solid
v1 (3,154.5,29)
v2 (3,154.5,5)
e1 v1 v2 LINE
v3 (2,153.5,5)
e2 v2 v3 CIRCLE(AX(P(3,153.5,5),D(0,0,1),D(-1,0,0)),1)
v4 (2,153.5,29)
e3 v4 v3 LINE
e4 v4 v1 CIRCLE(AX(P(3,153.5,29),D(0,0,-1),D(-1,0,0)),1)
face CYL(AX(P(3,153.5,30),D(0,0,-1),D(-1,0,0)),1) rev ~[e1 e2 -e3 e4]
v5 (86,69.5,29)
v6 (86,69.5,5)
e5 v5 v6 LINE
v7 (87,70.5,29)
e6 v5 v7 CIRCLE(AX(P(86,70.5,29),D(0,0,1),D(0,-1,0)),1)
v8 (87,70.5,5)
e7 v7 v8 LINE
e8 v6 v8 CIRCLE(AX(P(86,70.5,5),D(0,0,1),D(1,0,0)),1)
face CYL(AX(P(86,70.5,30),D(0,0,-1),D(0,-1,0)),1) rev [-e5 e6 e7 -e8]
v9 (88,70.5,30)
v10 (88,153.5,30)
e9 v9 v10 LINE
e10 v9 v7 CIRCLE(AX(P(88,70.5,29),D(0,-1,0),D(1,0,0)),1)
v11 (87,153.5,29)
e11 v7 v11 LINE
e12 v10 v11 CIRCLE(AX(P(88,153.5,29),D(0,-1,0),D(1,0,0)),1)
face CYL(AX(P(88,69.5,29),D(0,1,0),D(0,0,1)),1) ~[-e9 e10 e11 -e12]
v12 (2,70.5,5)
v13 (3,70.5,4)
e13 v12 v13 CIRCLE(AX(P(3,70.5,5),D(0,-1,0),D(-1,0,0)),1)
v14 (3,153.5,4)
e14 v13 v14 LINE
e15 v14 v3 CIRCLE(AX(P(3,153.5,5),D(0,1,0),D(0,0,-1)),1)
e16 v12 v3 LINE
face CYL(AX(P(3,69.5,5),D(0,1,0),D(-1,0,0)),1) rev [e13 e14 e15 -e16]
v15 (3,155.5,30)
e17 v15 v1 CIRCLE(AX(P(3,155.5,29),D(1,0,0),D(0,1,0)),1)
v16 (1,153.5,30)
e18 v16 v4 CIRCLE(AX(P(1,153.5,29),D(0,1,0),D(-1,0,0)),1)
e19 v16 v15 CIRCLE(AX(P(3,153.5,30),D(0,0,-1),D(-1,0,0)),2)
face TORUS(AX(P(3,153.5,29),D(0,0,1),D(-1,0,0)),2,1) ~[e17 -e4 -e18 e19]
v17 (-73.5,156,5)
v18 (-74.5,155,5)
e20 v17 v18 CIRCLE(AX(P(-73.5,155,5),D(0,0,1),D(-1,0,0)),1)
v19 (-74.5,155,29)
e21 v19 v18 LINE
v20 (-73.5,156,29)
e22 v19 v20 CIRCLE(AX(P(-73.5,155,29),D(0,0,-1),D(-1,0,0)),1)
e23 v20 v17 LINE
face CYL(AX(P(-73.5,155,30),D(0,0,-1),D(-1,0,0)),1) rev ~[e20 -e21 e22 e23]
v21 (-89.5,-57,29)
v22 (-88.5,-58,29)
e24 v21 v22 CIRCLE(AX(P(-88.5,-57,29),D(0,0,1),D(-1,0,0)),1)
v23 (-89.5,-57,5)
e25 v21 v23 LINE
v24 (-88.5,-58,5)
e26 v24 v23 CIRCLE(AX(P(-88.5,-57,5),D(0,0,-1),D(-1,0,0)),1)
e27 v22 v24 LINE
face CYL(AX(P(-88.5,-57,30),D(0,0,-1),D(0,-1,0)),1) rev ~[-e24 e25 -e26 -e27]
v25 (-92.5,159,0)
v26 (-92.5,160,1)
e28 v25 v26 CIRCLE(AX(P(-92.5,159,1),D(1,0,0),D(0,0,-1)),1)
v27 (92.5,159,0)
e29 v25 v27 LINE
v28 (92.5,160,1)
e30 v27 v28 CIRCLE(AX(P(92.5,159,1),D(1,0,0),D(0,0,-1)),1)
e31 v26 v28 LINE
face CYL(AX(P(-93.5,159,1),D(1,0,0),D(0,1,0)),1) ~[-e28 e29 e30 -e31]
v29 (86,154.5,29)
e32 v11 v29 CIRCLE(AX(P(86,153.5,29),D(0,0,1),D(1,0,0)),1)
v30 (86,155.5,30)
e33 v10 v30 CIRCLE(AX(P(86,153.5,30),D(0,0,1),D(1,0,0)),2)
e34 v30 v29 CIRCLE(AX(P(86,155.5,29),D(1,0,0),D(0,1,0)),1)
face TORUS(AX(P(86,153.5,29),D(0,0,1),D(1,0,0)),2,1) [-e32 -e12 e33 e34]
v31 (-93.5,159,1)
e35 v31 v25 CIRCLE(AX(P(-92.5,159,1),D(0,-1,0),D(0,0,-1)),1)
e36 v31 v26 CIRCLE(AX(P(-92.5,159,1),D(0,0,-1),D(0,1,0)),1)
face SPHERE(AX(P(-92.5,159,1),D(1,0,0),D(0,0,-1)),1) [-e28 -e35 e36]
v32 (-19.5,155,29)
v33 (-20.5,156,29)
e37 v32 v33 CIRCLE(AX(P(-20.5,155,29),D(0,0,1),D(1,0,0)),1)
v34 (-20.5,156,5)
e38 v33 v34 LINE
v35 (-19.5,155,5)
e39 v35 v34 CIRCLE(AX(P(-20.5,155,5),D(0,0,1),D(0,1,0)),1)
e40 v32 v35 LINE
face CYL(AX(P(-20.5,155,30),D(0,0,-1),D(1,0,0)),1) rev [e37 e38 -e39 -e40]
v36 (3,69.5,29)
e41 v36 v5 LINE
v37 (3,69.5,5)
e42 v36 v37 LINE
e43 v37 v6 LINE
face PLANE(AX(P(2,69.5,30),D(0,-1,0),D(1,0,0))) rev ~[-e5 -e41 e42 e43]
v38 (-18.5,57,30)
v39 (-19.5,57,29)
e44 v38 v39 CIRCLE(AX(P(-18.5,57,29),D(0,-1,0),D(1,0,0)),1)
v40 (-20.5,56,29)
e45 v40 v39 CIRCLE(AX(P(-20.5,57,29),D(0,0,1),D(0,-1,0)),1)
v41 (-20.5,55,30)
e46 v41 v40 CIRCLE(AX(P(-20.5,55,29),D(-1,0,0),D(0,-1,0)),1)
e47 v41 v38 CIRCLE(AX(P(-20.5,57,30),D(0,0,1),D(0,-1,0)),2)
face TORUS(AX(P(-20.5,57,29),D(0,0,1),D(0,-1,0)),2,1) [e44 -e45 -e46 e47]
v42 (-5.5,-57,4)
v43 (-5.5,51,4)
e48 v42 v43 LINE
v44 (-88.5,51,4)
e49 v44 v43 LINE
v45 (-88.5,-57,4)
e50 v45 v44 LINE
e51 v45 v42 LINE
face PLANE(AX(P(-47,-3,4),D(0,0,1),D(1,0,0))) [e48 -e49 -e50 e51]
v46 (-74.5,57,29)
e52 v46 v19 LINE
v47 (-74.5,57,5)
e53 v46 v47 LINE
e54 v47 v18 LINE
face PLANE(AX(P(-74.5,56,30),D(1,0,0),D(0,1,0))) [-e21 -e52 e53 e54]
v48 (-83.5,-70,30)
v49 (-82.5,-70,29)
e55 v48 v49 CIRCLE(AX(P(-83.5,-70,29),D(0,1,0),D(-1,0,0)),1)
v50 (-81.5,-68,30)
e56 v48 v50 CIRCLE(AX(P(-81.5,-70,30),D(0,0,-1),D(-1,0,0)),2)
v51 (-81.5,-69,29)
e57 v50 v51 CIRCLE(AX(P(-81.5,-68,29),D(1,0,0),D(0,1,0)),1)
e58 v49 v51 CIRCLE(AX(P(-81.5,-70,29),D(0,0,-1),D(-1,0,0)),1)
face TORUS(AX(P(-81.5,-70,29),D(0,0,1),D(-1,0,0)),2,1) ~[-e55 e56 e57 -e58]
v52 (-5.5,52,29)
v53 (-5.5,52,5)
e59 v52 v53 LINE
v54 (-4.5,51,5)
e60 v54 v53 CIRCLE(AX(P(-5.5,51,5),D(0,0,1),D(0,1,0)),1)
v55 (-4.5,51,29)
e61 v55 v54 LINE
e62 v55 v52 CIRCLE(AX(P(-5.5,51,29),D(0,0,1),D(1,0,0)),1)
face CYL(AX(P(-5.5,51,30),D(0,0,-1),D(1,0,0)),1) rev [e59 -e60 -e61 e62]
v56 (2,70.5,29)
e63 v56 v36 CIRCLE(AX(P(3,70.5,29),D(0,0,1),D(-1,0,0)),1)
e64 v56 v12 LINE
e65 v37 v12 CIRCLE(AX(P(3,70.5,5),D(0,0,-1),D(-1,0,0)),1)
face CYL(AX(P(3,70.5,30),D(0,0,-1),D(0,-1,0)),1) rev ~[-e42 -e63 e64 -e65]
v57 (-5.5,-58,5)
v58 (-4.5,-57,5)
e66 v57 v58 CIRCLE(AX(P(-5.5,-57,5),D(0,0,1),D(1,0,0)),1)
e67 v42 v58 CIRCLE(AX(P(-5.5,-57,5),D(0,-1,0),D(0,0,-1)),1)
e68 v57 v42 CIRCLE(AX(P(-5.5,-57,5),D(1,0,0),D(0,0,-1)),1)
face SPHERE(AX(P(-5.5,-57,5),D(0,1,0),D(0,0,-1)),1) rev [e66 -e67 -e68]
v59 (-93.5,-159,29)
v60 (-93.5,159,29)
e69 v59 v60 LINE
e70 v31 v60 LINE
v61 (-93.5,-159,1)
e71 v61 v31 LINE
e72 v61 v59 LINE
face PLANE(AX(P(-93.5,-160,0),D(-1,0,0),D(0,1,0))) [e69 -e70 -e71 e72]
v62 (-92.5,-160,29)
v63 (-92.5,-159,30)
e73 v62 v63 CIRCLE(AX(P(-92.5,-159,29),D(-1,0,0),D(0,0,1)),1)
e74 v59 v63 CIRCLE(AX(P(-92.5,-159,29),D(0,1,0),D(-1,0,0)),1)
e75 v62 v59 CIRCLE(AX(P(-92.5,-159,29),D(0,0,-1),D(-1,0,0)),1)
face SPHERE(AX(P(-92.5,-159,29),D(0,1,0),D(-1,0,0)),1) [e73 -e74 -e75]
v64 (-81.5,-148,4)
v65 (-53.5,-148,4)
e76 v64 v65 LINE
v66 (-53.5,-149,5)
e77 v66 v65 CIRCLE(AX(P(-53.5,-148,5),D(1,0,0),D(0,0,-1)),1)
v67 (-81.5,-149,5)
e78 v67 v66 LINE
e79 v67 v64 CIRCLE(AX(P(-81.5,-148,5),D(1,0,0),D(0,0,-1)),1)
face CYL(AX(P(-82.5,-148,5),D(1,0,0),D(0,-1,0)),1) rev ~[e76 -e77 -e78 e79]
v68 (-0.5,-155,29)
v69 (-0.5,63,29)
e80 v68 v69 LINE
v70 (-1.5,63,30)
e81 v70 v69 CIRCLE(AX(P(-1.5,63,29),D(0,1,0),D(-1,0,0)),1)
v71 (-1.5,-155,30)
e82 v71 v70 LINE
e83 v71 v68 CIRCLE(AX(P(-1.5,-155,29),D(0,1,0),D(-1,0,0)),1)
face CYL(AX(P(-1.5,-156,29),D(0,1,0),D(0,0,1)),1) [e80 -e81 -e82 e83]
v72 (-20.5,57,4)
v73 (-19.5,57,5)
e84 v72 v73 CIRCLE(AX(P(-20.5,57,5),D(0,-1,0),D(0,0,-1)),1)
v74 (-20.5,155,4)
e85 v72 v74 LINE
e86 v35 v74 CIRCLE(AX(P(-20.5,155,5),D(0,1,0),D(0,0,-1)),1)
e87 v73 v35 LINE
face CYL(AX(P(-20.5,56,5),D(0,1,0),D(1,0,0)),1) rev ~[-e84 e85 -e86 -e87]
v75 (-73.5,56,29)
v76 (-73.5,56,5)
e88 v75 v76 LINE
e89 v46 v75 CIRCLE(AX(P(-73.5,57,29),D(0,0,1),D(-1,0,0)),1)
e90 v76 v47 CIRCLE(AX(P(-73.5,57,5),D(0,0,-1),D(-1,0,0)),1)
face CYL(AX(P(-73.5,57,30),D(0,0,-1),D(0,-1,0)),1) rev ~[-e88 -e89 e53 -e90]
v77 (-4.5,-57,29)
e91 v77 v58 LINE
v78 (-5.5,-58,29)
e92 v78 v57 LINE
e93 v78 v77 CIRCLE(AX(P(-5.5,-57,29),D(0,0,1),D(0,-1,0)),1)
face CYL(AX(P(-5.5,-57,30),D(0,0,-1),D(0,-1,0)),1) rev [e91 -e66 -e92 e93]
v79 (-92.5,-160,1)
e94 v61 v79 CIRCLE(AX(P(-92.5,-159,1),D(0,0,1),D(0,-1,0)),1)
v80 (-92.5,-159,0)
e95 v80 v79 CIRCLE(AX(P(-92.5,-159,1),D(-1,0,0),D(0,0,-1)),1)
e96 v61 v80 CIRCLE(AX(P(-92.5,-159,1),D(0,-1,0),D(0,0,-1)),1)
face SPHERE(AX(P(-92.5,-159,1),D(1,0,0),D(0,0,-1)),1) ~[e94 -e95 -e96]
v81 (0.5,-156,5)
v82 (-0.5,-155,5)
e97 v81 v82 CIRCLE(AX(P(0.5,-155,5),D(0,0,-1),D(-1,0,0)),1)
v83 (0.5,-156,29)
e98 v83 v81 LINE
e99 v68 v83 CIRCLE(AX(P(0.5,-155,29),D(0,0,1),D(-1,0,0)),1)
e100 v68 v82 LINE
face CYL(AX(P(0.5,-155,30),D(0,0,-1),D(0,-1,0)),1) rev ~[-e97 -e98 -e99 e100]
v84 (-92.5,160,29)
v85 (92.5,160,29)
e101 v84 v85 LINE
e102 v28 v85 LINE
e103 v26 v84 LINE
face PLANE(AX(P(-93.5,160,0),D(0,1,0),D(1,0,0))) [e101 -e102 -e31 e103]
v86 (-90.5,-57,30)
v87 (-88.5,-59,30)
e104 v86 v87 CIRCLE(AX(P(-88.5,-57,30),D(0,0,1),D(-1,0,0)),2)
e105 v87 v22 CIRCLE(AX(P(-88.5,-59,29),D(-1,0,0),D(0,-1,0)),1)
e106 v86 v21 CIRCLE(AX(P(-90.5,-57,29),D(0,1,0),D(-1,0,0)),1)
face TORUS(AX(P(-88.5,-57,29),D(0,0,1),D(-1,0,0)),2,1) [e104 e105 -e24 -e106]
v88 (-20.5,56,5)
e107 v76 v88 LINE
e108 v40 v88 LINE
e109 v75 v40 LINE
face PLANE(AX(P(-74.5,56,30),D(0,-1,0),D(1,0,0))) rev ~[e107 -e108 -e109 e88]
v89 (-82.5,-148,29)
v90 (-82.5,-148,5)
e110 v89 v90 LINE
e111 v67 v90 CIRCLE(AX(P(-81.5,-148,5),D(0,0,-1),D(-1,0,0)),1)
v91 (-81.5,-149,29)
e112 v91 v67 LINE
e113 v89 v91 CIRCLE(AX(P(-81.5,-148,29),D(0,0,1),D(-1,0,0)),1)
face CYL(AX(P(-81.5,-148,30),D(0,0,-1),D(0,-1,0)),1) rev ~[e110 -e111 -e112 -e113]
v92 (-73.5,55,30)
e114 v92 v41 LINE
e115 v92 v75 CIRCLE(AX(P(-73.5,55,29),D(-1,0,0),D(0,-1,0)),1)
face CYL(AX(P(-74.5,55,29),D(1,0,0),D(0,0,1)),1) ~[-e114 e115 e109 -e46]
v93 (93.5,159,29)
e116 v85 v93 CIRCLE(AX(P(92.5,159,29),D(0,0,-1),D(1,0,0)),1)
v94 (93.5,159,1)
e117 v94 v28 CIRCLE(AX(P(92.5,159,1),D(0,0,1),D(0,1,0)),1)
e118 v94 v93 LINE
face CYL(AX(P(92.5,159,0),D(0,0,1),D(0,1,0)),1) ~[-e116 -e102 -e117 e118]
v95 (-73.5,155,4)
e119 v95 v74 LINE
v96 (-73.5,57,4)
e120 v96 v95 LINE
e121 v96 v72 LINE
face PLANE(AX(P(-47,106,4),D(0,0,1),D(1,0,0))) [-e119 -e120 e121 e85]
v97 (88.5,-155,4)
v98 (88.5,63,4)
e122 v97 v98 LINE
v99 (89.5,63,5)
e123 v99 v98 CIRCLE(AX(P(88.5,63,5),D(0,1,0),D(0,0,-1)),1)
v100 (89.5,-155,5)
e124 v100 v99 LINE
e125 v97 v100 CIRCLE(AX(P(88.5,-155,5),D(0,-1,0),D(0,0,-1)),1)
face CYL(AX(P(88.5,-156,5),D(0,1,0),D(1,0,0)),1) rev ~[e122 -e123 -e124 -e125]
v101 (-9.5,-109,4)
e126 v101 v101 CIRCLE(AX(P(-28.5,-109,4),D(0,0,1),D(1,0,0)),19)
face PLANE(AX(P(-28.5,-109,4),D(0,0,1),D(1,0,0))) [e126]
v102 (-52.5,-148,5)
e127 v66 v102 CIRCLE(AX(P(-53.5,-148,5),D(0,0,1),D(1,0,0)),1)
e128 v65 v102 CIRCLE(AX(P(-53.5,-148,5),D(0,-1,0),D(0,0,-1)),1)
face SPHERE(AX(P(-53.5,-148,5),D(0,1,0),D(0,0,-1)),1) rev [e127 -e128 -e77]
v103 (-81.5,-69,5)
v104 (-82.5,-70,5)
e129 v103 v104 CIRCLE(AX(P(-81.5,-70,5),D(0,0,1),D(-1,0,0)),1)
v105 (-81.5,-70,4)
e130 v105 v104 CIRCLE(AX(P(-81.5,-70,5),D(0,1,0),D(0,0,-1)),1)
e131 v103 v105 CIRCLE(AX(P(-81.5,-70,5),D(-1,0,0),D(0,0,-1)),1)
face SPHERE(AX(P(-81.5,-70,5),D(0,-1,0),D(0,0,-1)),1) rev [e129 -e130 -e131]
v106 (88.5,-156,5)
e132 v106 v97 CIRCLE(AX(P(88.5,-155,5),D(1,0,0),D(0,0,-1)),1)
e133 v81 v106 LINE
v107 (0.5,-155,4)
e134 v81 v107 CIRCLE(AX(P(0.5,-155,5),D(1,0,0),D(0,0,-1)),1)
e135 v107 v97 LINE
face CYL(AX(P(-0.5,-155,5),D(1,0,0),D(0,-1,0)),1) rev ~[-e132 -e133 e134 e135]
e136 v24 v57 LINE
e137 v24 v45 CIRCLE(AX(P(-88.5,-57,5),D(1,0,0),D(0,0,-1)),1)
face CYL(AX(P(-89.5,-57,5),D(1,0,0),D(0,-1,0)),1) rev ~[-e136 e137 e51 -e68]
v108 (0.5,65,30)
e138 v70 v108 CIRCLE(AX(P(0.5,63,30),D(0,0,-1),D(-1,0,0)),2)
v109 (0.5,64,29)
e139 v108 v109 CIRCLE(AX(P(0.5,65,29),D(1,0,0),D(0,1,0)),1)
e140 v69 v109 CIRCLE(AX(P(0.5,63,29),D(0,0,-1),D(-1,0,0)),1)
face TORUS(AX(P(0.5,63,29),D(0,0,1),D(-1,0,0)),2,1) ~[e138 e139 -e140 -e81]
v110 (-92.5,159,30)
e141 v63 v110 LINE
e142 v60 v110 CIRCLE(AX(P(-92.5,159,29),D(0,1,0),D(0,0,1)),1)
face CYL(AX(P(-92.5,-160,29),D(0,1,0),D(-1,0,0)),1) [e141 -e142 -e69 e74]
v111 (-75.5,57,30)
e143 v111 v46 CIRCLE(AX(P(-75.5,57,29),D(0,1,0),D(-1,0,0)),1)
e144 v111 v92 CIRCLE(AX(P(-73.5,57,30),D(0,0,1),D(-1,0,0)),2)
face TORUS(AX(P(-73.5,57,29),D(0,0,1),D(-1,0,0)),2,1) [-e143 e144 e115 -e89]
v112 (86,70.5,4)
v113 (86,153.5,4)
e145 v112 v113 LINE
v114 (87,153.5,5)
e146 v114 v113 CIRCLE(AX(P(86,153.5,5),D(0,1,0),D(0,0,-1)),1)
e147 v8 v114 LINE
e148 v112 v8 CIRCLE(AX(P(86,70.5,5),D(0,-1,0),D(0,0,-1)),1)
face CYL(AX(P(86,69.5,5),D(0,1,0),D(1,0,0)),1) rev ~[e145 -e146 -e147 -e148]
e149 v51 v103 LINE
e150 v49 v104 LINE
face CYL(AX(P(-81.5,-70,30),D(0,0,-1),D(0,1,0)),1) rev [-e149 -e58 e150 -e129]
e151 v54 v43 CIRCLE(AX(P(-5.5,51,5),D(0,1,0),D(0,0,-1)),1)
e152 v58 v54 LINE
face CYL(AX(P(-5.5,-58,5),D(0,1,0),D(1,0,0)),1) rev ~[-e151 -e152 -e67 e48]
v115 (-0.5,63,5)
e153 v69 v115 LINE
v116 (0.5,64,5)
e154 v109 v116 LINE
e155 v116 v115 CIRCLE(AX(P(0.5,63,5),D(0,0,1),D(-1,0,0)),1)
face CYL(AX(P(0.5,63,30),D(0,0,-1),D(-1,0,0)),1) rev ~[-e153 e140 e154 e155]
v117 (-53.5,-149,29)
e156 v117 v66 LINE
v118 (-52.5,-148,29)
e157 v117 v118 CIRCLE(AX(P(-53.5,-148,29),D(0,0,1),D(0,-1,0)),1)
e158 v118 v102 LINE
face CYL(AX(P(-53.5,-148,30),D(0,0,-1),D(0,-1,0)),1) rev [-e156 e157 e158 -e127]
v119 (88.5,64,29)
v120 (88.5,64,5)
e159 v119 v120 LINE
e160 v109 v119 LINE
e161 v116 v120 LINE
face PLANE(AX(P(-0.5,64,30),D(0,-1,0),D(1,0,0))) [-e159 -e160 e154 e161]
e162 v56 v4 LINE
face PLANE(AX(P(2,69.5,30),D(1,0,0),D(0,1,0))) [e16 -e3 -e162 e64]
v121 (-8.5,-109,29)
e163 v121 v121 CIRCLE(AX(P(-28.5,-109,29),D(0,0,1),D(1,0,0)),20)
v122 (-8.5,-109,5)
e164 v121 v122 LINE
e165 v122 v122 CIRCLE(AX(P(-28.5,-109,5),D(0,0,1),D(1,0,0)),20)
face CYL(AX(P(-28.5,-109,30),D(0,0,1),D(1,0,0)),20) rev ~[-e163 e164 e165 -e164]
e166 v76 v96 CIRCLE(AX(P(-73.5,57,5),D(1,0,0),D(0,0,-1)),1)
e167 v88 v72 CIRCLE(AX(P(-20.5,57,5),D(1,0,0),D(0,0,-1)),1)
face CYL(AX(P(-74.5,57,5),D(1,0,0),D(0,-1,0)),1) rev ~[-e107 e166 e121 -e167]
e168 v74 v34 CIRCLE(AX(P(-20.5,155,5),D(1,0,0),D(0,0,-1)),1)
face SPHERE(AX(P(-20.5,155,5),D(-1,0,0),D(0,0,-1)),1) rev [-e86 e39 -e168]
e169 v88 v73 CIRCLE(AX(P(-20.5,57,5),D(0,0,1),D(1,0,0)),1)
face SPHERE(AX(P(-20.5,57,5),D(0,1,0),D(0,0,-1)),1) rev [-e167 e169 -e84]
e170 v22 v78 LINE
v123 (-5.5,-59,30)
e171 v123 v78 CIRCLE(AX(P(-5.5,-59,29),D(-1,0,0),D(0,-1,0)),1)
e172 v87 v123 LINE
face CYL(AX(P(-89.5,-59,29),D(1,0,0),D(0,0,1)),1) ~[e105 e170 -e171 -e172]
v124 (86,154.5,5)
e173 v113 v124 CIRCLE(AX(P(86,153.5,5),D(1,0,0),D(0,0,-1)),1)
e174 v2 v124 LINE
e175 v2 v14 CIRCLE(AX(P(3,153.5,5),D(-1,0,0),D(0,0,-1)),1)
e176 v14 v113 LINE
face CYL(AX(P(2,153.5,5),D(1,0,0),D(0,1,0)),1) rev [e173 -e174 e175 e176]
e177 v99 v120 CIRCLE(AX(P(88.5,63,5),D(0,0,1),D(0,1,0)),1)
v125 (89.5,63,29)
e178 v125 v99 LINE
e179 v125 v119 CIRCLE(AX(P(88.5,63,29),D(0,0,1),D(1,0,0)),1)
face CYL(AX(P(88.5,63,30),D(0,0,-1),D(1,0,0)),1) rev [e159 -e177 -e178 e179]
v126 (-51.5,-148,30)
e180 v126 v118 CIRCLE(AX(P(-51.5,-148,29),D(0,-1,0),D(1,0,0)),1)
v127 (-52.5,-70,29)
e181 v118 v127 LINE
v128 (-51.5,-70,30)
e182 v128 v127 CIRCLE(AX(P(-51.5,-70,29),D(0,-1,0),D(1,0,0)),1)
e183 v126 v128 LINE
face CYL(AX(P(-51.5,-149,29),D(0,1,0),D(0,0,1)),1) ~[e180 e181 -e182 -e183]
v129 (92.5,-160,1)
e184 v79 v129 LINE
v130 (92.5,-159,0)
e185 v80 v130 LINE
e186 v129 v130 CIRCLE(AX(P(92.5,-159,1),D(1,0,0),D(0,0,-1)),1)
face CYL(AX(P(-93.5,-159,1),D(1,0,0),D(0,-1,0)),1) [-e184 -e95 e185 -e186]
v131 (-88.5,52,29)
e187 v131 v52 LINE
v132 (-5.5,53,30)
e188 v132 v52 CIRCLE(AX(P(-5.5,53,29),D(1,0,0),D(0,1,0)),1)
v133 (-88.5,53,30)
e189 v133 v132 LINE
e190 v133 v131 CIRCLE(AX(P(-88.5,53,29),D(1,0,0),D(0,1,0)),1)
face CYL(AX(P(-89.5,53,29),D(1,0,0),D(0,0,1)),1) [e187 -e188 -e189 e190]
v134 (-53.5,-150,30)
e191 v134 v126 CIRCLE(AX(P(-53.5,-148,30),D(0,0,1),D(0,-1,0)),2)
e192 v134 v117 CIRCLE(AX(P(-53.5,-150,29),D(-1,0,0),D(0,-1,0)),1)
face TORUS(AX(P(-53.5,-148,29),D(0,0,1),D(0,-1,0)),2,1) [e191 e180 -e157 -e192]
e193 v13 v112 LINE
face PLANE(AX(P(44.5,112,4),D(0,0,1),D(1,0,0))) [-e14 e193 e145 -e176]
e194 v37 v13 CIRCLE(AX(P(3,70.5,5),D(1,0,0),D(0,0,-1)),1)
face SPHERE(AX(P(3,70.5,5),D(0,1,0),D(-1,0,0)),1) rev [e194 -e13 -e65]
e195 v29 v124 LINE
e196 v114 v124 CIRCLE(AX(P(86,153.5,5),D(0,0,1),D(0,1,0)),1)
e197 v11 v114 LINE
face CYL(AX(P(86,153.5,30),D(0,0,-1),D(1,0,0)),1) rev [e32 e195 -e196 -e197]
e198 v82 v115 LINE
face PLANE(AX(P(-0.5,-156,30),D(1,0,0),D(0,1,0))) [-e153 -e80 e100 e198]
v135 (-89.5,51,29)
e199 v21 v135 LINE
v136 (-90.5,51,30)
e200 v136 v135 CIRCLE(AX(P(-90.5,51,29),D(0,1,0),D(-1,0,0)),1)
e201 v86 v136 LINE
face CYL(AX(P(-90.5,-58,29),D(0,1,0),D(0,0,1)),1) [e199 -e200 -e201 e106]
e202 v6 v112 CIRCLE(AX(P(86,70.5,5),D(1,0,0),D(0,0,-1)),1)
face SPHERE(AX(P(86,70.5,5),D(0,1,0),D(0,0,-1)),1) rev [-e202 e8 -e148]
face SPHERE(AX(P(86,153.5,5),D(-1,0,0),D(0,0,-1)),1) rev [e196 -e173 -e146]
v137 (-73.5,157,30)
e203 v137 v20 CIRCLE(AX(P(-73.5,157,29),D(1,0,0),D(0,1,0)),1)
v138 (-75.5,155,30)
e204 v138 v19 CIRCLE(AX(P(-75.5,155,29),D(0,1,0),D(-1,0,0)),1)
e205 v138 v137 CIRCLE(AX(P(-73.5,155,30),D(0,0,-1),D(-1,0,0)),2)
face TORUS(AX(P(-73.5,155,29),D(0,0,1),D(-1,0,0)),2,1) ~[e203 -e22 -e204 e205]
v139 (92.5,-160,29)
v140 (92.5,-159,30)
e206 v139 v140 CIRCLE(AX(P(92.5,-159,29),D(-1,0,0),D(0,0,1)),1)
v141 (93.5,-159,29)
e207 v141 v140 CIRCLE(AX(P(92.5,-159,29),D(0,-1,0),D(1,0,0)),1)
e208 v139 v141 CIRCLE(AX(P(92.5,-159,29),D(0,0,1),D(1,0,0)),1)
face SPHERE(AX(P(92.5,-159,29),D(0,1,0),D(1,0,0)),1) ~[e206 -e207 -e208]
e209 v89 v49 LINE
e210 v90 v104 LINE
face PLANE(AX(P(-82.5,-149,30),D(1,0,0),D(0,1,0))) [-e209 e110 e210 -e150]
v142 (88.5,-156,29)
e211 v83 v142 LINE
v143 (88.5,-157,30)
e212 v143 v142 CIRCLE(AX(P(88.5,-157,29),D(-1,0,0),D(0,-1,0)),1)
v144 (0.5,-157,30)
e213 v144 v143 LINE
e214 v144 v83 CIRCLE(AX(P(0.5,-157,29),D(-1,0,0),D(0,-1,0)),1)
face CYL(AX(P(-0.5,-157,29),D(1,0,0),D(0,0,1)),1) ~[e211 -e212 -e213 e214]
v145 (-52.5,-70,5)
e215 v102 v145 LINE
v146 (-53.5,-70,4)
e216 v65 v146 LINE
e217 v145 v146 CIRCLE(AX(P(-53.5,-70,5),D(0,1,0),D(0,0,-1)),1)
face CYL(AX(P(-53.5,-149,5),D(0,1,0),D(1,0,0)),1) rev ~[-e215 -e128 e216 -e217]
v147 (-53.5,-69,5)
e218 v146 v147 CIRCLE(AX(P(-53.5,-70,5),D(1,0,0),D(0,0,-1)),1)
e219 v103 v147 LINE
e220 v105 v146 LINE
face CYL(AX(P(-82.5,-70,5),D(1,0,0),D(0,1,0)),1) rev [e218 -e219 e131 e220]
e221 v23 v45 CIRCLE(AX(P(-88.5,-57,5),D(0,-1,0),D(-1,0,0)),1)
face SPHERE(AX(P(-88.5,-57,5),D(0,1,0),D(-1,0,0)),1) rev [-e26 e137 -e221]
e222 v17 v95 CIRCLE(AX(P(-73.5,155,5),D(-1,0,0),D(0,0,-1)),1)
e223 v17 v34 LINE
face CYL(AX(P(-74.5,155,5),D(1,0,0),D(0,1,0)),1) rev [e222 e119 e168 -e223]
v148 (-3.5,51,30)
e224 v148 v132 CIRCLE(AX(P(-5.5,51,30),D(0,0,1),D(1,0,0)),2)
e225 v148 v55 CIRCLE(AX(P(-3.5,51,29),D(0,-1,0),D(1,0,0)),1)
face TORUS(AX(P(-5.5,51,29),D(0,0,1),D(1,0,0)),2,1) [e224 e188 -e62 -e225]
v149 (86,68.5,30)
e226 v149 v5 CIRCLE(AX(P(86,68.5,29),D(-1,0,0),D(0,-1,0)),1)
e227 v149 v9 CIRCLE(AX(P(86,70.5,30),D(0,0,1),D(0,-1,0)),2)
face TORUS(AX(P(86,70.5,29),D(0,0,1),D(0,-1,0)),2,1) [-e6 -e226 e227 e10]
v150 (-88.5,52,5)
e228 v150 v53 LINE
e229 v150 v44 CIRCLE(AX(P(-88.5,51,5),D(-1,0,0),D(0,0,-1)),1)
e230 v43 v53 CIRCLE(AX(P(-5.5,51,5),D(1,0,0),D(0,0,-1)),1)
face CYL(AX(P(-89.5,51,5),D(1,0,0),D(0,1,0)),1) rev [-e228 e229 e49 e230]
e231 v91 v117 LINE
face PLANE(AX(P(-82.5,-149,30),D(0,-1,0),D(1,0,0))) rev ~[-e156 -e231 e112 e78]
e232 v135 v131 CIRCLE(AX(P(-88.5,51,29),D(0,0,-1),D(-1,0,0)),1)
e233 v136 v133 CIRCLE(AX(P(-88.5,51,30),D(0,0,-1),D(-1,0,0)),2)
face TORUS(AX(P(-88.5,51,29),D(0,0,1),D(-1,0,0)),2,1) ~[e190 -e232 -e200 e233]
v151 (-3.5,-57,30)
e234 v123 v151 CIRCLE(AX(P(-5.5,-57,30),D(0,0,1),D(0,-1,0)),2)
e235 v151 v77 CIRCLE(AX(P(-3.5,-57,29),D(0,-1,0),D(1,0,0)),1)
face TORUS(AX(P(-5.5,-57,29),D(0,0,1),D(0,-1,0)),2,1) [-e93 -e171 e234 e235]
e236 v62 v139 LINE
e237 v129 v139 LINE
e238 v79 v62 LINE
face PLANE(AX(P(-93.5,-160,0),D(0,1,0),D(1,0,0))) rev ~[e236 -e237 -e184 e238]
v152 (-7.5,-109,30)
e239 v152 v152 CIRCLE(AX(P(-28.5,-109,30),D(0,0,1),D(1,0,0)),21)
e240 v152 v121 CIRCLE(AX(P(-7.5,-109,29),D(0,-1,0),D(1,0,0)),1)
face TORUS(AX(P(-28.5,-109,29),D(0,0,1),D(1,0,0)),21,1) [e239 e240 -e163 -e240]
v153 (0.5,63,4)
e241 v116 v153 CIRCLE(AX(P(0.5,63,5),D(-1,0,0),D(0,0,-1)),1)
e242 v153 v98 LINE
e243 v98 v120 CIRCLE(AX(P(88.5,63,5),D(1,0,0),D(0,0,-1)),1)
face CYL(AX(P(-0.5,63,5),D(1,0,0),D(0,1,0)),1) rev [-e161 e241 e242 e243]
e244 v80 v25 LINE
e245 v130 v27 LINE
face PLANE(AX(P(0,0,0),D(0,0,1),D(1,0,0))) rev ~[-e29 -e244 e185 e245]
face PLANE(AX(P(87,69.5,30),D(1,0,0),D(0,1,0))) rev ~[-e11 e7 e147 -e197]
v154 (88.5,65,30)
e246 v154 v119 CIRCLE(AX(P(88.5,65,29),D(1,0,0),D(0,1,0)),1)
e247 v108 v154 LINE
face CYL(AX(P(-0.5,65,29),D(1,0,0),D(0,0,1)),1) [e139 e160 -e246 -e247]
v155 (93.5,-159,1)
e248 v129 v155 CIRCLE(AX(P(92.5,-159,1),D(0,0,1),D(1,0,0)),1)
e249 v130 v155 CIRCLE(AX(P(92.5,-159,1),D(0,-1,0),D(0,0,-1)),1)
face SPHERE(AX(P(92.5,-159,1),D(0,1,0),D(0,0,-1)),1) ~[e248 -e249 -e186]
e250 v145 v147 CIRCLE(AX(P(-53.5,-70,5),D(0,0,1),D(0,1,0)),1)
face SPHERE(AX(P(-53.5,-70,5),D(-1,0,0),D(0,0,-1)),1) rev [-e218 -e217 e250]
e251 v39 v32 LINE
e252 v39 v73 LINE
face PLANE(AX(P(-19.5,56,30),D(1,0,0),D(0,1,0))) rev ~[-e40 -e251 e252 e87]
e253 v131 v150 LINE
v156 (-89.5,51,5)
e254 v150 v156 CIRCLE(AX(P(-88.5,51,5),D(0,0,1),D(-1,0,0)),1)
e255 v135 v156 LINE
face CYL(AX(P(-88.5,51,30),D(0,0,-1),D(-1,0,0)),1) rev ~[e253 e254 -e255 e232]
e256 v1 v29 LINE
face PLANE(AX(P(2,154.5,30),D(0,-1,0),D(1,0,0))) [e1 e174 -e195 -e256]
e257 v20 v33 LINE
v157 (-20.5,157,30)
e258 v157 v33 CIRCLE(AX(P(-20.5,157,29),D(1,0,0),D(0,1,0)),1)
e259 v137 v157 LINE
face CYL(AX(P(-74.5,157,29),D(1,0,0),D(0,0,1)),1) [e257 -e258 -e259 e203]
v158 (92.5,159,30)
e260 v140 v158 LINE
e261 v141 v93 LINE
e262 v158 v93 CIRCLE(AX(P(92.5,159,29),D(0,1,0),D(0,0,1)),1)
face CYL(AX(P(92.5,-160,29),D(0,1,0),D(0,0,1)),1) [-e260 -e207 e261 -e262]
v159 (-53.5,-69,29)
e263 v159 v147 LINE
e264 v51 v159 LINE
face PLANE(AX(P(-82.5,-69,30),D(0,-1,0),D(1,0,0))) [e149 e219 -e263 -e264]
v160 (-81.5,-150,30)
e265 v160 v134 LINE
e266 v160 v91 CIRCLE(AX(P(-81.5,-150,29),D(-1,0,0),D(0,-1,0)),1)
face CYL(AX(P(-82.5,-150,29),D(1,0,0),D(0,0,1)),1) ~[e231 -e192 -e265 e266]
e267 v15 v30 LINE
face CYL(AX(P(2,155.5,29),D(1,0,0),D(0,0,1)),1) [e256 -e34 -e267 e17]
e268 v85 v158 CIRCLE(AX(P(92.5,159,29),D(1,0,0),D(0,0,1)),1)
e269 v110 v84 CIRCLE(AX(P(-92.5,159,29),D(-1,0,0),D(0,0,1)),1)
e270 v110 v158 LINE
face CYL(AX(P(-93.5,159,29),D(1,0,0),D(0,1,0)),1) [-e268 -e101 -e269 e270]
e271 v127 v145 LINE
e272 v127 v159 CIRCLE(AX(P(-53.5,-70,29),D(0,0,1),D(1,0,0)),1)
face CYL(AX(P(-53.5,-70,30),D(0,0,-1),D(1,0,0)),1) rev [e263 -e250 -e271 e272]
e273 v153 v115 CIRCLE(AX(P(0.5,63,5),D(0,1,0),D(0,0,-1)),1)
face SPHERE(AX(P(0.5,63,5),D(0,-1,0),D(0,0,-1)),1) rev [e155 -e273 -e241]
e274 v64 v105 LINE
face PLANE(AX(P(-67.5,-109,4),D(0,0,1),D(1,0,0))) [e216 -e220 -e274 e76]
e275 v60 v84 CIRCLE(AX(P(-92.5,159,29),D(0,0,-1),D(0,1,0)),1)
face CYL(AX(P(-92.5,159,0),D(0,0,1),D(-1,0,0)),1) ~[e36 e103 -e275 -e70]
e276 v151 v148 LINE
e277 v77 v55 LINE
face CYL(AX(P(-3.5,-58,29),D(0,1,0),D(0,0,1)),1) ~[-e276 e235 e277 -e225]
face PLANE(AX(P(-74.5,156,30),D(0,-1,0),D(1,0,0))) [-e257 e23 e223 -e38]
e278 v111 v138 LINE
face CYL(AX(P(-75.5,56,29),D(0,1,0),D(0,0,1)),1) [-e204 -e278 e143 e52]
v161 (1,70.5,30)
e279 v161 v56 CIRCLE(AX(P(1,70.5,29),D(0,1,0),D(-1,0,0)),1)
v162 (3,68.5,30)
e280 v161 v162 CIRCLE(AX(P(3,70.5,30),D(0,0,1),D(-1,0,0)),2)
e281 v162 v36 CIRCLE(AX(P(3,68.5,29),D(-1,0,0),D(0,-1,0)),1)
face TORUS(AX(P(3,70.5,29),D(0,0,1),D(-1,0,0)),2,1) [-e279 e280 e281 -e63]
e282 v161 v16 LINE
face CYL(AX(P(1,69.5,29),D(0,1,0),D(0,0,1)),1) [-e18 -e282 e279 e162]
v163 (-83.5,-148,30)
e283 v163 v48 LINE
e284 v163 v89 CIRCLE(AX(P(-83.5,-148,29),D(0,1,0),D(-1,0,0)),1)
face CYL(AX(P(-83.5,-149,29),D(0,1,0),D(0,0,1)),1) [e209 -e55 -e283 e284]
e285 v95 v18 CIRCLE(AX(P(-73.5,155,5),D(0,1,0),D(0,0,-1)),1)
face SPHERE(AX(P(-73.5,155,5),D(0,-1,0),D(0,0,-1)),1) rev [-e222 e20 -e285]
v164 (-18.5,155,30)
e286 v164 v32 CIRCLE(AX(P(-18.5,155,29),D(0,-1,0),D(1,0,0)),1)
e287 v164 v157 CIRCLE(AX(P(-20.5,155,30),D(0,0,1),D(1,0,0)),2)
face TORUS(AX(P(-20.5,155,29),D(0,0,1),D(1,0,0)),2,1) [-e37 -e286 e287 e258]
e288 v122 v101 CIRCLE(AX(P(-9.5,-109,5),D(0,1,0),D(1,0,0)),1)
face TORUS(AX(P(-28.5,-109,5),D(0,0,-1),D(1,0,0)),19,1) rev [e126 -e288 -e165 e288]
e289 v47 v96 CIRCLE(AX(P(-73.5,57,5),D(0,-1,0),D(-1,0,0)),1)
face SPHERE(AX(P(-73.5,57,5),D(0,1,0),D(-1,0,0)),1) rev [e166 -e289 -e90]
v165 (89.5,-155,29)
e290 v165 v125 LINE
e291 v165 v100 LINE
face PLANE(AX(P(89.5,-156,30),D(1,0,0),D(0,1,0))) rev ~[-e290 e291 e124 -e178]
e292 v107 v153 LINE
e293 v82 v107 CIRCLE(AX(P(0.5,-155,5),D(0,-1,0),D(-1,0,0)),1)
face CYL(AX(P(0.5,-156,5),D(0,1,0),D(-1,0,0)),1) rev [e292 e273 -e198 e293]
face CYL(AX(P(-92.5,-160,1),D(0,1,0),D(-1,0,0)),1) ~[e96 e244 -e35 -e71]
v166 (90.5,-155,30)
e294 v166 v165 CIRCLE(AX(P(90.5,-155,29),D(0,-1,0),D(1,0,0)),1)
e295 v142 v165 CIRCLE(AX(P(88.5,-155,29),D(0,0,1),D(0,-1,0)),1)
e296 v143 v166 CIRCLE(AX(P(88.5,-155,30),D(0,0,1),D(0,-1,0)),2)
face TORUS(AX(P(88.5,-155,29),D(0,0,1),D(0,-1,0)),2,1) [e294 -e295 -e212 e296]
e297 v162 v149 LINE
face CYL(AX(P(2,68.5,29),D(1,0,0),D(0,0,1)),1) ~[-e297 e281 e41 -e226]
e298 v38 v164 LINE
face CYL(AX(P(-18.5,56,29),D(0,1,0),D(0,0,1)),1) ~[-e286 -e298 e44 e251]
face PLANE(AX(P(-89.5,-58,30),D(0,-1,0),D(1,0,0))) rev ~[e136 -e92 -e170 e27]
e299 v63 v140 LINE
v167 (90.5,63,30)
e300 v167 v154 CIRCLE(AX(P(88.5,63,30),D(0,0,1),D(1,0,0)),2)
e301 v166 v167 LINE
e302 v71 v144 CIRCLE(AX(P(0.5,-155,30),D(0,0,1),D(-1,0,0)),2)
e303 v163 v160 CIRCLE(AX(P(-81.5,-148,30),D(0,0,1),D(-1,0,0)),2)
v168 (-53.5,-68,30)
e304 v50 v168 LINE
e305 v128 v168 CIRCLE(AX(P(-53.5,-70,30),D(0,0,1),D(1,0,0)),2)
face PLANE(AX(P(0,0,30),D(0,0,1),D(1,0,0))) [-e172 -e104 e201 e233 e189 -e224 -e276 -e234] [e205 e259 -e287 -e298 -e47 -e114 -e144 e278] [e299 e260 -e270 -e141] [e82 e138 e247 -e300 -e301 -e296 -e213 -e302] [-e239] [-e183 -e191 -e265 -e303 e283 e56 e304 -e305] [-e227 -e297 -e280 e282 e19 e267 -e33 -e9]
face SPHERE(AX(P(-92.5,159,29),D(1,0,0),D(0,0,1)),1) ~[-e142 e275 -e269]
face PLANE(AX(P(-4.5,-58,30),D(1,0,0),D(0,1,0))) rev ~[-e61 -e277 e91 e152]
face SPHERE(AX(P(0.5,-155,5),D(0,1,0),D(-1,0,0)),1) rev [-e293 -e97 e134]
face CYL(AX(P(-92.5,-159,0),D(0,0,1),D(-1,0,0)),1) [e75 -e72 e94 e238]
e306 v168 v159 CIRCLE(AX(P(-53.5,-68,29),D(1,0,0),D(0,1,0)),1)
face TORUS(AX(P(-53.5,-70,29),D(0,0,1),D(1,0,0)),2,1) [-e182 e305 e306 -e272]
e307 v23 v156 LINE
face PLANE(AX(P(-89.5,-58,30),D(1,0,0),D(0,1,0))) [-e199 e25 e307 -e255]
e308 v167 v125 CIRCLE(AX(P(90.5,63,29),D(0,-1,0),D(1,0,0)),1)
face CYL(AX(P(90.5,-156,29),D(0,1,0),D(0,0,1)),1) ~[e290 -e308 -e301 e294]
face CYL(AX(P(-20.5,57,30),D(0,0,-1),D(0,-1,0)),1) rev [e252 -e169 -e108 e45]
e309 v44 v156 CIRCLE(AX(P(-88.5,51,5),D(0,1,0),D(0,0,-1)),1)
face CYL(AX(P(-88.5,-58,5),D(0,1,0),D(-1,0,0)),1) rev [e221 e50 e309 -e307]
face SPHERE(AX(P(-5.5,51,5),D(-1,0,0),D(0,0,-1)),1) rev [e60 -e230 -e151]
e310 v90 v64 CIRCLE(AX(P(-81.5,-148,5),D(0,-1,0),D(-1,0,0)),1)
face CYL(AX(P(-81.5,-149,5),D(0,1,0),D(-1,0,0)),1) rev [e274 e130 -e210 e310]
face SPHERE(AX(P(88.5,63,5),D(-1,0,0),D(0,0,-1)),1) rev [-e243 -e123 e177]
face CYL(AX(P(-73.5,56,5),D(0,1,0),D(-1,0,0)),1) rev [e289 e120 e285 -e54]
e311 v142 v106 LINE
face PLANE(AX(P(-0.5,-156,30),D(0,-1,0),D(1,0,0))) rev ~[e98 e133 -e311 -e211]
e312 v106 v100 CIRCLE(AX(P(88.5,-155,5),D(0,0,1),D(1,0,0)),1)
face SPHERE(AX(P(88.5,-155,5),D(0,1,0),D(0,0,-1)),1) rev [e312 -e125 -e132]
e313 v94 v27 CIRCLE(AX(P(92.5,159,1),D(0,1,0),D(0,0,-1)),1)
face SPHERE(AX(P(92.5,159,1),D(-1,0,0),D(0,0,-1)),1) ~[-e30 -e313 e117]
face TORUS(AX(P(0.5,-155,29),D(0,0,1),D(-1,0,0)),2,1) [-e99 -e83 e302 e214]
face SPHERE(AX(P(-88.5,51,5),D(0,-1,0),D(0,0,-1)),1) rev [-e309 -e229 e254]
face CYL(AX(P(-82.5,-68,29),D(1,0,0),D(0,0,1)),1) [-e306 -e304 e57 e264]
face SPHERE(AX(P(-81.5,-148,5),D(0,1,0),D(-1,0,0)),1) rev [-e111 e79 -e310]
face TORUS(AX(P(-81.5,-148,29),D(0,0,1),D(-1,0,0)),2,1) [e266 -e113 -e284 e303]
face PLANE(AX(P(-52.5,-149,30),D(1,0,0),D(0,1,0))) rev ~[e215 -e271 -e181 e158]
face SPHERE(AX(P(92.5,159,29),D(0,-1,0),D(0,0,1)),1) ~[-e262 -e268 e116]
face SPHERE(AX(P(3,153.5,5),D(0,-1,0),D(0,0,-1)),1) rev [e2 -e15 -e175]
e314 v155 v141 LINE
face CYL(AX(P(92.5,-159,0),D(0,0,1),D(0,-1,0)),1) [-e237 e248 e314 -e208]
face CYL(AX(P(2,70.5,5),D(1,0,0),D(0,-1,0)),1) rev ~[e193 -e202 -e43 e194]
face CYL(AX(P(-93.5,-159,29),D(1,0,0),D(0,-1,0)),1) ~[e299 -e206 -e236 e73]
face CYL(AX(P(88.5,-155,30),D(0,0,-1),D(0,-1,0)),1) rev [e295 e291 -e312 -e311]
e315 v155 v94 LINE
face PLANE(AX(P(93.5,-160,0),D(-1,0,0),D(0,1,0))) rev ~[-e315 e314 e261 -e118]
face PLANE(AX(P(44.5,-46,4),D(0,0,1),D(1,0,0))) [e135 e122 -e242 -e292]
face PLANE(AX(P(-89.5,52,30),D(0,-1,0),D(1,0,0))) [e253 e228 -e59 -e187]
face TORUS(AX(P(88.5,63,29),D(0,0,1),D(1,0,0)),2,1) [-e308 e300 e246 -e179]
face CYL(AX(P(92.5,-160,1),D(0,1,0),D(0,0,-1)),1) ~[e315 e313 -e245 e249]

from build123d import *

# Parameters (mm, degrees)
SKETCH1_W           = 187
SKETCH1_H           = 320
BOSS_EXTRUDE1_DEPTH = 30
SKETCH3_W           = 90
SKETCH3_H           = 220
CUT_EXTRUDE1_DEPTH  = 26
SKETCH4_W           = 85
SKETCH4_H           = 85
CUT_EXTRUDE2_DEPTH  = 26
SKETCH5_W           = 55
SKETCH5_H           = 100
CUT_EXTRUDE3_DEPTH  = 26
SKETCH6_W           = 85
SKETCH6_H           = 110
CUT_EXTRUDE4_DEPTH  = 26
SKETCH7_R           = 20
SKETCH7_W           = 30
SKETCH7_H           = 80
CUT_EXTRUDE6_DEPTH  = 26
FILLET1_R           = 1


with BuildPart() as part:
    # Sketch1 → Boss-Extrude1 (new body)
    with BuildSketch(Plane.XY):
        Rectangle(SKETCH1_W, SKETCH1_H)
    extrude(amount=BOSS_EXTRUDE1_DEPTH)

    # Sketch3 → Cut-Extrude1 (cut)
    with BuildSketch(Plane.XY.offset(30)):
        with Locations((44.5, -46)):
            Rectangle(SKETCH3_W, SKETCH3_H)
    extrude(amount=-CUT_EXTRUDE1_DEPTH, mode=Mode.SUBTRACT)

    # Sketch4 → Cut-Extrude2 (cut)
    with BuildSketch(Plane.XY.offset(30)):
        with Locations((44.5, 112)):
            Rectangle(SKETCH4_W, SKETCH4_H)
    extrude(amount=-CUT_EXTRUDE2_DEPTH, mode=Mode.SUBTRACT)

    # Sketch5 → Cut-Extrude3 (cut)
    with BuildSketch(Plane.XY.offset(30)):
        with Locations((-47, 106)):
            Rectangle(SKETCH5_W, SKETCH5_H)
    extrude(amount=-CUT_EXTRUDE3_DEPTH, mode=Mode.SUBTRACT)

    # Sketch6 → Cut-Extrude4 (cut)
    with BuildSketch(Plane.XY.offset(30)):
        with Locations((-47, -3)):
            Rectangle(SKETCH6_W, SKETCH6_H)
    extrude(amount=-CUT_EXTRUDE4_DEPTH, mode=Mode.SUBTRACT)

    # Sketch7 → Cut-Extrude6 (cut)
    with BuildSketch(Plane.XY.offset(30)):
        with Locations((-28.5, -109)):
            Circle(SKETCH7_R)
        with Locations((-67.5, -109)):
            Rectangle(SKETCH7_W, SKETCH7_H)
    extrude(amount=-CUT_EXTRUDE6_DEPTH, mode=Mode.SUBTRACT)

    # Fillet1
    fillet1_edges = [part.edges().sort_by_distance(p)[0] for p in [
        (93.5, 0, 30),
        (-0.5, -46, 4),
        (-0.5, -156, 17),
        (44.5, 64, 4),
        (-0.5, 64, 17),
        (89.5, -46, 4),
        (0, 160, 30),
        (89.5, 64, 17),
        (44.5, -156, 4),
        (89.5, -156, 17),
        (-0.5, -46, 30),
        (44.5, -156, 30),
        (89.5, -46, 30),
        (44.5, 64, 30),
        (2, 112, 4),
        (2, 69.5, 17),
        (44.5, 154.5, 4),
        (2, 154.5, 17),
        (87, 112, 4),
        (87, 154.5, 17),
        (44.5, 69.5, 4),
        (87, 69.5, 17),
        (2, 112, 30),
        (44.5, 69.5, 30),
        (87, 112, 30),
        (44.5, 154.5, 30),
        (-74.5, 106, 4),
        (-74.5, 56, 17),
        (-47, 156, 4),
        (-74.5, 156, 17),
        (-19.5, 106, 4),
        (-19.5, 156, 17),
        (-47, 56, 4),
        (-19.5, 56, 17),
        (-74.5, 106, 30),
        (-47, 56, 30),
        (-19.5, 106, 30),
        (-47, 156, 30),
        (-93.5, 0, 30),
        (0, 160, 0),
        (93.5, 0, 0),
        (-89.5, -3, 4),
        (0, -160, 0),
        (-89.5, -58, 17),
        (-47, 52, 4),
        (-89.5, 52, 17),
        (-4.5, -3, 4),
        (-4.5, 52, 17),
        (-47, -58, 4),
        (-4.5, -58, 17),
        (-89.5, -3, 30),
        (-47, -58, 30),
        (-4.5, -3, 30),
        (-47, 52, 30),
        (-93.5, 0, 0),
        (-48.5, -109, 4),
        (-48.5, -109, 30),
        (-82.5, -109, 4),
        (-82.5, -149, 17),
        (-67.5, -69, 4),
        (-82.5, -69, 17),
        (-52.5, -109, 4),
        (-52.5, -69, 17),
        (-67.5, -149, 4),
        (-52.5, -149, 17),
        (-82.5, -109, 30),
        (-67.5, -149, 30),
        (-52.5, -109, 30),
        (-67.5, -69, 30),
        (-93.5, 160, 15),
        (93.5, 160, 15),
        (93.5, -160, 15),
        (-93.5, -160, 15),
        (0, -160, 30),
    ]]
    fillet(fillet1_edges, radius=FILLET1_R)


solid = part.part
